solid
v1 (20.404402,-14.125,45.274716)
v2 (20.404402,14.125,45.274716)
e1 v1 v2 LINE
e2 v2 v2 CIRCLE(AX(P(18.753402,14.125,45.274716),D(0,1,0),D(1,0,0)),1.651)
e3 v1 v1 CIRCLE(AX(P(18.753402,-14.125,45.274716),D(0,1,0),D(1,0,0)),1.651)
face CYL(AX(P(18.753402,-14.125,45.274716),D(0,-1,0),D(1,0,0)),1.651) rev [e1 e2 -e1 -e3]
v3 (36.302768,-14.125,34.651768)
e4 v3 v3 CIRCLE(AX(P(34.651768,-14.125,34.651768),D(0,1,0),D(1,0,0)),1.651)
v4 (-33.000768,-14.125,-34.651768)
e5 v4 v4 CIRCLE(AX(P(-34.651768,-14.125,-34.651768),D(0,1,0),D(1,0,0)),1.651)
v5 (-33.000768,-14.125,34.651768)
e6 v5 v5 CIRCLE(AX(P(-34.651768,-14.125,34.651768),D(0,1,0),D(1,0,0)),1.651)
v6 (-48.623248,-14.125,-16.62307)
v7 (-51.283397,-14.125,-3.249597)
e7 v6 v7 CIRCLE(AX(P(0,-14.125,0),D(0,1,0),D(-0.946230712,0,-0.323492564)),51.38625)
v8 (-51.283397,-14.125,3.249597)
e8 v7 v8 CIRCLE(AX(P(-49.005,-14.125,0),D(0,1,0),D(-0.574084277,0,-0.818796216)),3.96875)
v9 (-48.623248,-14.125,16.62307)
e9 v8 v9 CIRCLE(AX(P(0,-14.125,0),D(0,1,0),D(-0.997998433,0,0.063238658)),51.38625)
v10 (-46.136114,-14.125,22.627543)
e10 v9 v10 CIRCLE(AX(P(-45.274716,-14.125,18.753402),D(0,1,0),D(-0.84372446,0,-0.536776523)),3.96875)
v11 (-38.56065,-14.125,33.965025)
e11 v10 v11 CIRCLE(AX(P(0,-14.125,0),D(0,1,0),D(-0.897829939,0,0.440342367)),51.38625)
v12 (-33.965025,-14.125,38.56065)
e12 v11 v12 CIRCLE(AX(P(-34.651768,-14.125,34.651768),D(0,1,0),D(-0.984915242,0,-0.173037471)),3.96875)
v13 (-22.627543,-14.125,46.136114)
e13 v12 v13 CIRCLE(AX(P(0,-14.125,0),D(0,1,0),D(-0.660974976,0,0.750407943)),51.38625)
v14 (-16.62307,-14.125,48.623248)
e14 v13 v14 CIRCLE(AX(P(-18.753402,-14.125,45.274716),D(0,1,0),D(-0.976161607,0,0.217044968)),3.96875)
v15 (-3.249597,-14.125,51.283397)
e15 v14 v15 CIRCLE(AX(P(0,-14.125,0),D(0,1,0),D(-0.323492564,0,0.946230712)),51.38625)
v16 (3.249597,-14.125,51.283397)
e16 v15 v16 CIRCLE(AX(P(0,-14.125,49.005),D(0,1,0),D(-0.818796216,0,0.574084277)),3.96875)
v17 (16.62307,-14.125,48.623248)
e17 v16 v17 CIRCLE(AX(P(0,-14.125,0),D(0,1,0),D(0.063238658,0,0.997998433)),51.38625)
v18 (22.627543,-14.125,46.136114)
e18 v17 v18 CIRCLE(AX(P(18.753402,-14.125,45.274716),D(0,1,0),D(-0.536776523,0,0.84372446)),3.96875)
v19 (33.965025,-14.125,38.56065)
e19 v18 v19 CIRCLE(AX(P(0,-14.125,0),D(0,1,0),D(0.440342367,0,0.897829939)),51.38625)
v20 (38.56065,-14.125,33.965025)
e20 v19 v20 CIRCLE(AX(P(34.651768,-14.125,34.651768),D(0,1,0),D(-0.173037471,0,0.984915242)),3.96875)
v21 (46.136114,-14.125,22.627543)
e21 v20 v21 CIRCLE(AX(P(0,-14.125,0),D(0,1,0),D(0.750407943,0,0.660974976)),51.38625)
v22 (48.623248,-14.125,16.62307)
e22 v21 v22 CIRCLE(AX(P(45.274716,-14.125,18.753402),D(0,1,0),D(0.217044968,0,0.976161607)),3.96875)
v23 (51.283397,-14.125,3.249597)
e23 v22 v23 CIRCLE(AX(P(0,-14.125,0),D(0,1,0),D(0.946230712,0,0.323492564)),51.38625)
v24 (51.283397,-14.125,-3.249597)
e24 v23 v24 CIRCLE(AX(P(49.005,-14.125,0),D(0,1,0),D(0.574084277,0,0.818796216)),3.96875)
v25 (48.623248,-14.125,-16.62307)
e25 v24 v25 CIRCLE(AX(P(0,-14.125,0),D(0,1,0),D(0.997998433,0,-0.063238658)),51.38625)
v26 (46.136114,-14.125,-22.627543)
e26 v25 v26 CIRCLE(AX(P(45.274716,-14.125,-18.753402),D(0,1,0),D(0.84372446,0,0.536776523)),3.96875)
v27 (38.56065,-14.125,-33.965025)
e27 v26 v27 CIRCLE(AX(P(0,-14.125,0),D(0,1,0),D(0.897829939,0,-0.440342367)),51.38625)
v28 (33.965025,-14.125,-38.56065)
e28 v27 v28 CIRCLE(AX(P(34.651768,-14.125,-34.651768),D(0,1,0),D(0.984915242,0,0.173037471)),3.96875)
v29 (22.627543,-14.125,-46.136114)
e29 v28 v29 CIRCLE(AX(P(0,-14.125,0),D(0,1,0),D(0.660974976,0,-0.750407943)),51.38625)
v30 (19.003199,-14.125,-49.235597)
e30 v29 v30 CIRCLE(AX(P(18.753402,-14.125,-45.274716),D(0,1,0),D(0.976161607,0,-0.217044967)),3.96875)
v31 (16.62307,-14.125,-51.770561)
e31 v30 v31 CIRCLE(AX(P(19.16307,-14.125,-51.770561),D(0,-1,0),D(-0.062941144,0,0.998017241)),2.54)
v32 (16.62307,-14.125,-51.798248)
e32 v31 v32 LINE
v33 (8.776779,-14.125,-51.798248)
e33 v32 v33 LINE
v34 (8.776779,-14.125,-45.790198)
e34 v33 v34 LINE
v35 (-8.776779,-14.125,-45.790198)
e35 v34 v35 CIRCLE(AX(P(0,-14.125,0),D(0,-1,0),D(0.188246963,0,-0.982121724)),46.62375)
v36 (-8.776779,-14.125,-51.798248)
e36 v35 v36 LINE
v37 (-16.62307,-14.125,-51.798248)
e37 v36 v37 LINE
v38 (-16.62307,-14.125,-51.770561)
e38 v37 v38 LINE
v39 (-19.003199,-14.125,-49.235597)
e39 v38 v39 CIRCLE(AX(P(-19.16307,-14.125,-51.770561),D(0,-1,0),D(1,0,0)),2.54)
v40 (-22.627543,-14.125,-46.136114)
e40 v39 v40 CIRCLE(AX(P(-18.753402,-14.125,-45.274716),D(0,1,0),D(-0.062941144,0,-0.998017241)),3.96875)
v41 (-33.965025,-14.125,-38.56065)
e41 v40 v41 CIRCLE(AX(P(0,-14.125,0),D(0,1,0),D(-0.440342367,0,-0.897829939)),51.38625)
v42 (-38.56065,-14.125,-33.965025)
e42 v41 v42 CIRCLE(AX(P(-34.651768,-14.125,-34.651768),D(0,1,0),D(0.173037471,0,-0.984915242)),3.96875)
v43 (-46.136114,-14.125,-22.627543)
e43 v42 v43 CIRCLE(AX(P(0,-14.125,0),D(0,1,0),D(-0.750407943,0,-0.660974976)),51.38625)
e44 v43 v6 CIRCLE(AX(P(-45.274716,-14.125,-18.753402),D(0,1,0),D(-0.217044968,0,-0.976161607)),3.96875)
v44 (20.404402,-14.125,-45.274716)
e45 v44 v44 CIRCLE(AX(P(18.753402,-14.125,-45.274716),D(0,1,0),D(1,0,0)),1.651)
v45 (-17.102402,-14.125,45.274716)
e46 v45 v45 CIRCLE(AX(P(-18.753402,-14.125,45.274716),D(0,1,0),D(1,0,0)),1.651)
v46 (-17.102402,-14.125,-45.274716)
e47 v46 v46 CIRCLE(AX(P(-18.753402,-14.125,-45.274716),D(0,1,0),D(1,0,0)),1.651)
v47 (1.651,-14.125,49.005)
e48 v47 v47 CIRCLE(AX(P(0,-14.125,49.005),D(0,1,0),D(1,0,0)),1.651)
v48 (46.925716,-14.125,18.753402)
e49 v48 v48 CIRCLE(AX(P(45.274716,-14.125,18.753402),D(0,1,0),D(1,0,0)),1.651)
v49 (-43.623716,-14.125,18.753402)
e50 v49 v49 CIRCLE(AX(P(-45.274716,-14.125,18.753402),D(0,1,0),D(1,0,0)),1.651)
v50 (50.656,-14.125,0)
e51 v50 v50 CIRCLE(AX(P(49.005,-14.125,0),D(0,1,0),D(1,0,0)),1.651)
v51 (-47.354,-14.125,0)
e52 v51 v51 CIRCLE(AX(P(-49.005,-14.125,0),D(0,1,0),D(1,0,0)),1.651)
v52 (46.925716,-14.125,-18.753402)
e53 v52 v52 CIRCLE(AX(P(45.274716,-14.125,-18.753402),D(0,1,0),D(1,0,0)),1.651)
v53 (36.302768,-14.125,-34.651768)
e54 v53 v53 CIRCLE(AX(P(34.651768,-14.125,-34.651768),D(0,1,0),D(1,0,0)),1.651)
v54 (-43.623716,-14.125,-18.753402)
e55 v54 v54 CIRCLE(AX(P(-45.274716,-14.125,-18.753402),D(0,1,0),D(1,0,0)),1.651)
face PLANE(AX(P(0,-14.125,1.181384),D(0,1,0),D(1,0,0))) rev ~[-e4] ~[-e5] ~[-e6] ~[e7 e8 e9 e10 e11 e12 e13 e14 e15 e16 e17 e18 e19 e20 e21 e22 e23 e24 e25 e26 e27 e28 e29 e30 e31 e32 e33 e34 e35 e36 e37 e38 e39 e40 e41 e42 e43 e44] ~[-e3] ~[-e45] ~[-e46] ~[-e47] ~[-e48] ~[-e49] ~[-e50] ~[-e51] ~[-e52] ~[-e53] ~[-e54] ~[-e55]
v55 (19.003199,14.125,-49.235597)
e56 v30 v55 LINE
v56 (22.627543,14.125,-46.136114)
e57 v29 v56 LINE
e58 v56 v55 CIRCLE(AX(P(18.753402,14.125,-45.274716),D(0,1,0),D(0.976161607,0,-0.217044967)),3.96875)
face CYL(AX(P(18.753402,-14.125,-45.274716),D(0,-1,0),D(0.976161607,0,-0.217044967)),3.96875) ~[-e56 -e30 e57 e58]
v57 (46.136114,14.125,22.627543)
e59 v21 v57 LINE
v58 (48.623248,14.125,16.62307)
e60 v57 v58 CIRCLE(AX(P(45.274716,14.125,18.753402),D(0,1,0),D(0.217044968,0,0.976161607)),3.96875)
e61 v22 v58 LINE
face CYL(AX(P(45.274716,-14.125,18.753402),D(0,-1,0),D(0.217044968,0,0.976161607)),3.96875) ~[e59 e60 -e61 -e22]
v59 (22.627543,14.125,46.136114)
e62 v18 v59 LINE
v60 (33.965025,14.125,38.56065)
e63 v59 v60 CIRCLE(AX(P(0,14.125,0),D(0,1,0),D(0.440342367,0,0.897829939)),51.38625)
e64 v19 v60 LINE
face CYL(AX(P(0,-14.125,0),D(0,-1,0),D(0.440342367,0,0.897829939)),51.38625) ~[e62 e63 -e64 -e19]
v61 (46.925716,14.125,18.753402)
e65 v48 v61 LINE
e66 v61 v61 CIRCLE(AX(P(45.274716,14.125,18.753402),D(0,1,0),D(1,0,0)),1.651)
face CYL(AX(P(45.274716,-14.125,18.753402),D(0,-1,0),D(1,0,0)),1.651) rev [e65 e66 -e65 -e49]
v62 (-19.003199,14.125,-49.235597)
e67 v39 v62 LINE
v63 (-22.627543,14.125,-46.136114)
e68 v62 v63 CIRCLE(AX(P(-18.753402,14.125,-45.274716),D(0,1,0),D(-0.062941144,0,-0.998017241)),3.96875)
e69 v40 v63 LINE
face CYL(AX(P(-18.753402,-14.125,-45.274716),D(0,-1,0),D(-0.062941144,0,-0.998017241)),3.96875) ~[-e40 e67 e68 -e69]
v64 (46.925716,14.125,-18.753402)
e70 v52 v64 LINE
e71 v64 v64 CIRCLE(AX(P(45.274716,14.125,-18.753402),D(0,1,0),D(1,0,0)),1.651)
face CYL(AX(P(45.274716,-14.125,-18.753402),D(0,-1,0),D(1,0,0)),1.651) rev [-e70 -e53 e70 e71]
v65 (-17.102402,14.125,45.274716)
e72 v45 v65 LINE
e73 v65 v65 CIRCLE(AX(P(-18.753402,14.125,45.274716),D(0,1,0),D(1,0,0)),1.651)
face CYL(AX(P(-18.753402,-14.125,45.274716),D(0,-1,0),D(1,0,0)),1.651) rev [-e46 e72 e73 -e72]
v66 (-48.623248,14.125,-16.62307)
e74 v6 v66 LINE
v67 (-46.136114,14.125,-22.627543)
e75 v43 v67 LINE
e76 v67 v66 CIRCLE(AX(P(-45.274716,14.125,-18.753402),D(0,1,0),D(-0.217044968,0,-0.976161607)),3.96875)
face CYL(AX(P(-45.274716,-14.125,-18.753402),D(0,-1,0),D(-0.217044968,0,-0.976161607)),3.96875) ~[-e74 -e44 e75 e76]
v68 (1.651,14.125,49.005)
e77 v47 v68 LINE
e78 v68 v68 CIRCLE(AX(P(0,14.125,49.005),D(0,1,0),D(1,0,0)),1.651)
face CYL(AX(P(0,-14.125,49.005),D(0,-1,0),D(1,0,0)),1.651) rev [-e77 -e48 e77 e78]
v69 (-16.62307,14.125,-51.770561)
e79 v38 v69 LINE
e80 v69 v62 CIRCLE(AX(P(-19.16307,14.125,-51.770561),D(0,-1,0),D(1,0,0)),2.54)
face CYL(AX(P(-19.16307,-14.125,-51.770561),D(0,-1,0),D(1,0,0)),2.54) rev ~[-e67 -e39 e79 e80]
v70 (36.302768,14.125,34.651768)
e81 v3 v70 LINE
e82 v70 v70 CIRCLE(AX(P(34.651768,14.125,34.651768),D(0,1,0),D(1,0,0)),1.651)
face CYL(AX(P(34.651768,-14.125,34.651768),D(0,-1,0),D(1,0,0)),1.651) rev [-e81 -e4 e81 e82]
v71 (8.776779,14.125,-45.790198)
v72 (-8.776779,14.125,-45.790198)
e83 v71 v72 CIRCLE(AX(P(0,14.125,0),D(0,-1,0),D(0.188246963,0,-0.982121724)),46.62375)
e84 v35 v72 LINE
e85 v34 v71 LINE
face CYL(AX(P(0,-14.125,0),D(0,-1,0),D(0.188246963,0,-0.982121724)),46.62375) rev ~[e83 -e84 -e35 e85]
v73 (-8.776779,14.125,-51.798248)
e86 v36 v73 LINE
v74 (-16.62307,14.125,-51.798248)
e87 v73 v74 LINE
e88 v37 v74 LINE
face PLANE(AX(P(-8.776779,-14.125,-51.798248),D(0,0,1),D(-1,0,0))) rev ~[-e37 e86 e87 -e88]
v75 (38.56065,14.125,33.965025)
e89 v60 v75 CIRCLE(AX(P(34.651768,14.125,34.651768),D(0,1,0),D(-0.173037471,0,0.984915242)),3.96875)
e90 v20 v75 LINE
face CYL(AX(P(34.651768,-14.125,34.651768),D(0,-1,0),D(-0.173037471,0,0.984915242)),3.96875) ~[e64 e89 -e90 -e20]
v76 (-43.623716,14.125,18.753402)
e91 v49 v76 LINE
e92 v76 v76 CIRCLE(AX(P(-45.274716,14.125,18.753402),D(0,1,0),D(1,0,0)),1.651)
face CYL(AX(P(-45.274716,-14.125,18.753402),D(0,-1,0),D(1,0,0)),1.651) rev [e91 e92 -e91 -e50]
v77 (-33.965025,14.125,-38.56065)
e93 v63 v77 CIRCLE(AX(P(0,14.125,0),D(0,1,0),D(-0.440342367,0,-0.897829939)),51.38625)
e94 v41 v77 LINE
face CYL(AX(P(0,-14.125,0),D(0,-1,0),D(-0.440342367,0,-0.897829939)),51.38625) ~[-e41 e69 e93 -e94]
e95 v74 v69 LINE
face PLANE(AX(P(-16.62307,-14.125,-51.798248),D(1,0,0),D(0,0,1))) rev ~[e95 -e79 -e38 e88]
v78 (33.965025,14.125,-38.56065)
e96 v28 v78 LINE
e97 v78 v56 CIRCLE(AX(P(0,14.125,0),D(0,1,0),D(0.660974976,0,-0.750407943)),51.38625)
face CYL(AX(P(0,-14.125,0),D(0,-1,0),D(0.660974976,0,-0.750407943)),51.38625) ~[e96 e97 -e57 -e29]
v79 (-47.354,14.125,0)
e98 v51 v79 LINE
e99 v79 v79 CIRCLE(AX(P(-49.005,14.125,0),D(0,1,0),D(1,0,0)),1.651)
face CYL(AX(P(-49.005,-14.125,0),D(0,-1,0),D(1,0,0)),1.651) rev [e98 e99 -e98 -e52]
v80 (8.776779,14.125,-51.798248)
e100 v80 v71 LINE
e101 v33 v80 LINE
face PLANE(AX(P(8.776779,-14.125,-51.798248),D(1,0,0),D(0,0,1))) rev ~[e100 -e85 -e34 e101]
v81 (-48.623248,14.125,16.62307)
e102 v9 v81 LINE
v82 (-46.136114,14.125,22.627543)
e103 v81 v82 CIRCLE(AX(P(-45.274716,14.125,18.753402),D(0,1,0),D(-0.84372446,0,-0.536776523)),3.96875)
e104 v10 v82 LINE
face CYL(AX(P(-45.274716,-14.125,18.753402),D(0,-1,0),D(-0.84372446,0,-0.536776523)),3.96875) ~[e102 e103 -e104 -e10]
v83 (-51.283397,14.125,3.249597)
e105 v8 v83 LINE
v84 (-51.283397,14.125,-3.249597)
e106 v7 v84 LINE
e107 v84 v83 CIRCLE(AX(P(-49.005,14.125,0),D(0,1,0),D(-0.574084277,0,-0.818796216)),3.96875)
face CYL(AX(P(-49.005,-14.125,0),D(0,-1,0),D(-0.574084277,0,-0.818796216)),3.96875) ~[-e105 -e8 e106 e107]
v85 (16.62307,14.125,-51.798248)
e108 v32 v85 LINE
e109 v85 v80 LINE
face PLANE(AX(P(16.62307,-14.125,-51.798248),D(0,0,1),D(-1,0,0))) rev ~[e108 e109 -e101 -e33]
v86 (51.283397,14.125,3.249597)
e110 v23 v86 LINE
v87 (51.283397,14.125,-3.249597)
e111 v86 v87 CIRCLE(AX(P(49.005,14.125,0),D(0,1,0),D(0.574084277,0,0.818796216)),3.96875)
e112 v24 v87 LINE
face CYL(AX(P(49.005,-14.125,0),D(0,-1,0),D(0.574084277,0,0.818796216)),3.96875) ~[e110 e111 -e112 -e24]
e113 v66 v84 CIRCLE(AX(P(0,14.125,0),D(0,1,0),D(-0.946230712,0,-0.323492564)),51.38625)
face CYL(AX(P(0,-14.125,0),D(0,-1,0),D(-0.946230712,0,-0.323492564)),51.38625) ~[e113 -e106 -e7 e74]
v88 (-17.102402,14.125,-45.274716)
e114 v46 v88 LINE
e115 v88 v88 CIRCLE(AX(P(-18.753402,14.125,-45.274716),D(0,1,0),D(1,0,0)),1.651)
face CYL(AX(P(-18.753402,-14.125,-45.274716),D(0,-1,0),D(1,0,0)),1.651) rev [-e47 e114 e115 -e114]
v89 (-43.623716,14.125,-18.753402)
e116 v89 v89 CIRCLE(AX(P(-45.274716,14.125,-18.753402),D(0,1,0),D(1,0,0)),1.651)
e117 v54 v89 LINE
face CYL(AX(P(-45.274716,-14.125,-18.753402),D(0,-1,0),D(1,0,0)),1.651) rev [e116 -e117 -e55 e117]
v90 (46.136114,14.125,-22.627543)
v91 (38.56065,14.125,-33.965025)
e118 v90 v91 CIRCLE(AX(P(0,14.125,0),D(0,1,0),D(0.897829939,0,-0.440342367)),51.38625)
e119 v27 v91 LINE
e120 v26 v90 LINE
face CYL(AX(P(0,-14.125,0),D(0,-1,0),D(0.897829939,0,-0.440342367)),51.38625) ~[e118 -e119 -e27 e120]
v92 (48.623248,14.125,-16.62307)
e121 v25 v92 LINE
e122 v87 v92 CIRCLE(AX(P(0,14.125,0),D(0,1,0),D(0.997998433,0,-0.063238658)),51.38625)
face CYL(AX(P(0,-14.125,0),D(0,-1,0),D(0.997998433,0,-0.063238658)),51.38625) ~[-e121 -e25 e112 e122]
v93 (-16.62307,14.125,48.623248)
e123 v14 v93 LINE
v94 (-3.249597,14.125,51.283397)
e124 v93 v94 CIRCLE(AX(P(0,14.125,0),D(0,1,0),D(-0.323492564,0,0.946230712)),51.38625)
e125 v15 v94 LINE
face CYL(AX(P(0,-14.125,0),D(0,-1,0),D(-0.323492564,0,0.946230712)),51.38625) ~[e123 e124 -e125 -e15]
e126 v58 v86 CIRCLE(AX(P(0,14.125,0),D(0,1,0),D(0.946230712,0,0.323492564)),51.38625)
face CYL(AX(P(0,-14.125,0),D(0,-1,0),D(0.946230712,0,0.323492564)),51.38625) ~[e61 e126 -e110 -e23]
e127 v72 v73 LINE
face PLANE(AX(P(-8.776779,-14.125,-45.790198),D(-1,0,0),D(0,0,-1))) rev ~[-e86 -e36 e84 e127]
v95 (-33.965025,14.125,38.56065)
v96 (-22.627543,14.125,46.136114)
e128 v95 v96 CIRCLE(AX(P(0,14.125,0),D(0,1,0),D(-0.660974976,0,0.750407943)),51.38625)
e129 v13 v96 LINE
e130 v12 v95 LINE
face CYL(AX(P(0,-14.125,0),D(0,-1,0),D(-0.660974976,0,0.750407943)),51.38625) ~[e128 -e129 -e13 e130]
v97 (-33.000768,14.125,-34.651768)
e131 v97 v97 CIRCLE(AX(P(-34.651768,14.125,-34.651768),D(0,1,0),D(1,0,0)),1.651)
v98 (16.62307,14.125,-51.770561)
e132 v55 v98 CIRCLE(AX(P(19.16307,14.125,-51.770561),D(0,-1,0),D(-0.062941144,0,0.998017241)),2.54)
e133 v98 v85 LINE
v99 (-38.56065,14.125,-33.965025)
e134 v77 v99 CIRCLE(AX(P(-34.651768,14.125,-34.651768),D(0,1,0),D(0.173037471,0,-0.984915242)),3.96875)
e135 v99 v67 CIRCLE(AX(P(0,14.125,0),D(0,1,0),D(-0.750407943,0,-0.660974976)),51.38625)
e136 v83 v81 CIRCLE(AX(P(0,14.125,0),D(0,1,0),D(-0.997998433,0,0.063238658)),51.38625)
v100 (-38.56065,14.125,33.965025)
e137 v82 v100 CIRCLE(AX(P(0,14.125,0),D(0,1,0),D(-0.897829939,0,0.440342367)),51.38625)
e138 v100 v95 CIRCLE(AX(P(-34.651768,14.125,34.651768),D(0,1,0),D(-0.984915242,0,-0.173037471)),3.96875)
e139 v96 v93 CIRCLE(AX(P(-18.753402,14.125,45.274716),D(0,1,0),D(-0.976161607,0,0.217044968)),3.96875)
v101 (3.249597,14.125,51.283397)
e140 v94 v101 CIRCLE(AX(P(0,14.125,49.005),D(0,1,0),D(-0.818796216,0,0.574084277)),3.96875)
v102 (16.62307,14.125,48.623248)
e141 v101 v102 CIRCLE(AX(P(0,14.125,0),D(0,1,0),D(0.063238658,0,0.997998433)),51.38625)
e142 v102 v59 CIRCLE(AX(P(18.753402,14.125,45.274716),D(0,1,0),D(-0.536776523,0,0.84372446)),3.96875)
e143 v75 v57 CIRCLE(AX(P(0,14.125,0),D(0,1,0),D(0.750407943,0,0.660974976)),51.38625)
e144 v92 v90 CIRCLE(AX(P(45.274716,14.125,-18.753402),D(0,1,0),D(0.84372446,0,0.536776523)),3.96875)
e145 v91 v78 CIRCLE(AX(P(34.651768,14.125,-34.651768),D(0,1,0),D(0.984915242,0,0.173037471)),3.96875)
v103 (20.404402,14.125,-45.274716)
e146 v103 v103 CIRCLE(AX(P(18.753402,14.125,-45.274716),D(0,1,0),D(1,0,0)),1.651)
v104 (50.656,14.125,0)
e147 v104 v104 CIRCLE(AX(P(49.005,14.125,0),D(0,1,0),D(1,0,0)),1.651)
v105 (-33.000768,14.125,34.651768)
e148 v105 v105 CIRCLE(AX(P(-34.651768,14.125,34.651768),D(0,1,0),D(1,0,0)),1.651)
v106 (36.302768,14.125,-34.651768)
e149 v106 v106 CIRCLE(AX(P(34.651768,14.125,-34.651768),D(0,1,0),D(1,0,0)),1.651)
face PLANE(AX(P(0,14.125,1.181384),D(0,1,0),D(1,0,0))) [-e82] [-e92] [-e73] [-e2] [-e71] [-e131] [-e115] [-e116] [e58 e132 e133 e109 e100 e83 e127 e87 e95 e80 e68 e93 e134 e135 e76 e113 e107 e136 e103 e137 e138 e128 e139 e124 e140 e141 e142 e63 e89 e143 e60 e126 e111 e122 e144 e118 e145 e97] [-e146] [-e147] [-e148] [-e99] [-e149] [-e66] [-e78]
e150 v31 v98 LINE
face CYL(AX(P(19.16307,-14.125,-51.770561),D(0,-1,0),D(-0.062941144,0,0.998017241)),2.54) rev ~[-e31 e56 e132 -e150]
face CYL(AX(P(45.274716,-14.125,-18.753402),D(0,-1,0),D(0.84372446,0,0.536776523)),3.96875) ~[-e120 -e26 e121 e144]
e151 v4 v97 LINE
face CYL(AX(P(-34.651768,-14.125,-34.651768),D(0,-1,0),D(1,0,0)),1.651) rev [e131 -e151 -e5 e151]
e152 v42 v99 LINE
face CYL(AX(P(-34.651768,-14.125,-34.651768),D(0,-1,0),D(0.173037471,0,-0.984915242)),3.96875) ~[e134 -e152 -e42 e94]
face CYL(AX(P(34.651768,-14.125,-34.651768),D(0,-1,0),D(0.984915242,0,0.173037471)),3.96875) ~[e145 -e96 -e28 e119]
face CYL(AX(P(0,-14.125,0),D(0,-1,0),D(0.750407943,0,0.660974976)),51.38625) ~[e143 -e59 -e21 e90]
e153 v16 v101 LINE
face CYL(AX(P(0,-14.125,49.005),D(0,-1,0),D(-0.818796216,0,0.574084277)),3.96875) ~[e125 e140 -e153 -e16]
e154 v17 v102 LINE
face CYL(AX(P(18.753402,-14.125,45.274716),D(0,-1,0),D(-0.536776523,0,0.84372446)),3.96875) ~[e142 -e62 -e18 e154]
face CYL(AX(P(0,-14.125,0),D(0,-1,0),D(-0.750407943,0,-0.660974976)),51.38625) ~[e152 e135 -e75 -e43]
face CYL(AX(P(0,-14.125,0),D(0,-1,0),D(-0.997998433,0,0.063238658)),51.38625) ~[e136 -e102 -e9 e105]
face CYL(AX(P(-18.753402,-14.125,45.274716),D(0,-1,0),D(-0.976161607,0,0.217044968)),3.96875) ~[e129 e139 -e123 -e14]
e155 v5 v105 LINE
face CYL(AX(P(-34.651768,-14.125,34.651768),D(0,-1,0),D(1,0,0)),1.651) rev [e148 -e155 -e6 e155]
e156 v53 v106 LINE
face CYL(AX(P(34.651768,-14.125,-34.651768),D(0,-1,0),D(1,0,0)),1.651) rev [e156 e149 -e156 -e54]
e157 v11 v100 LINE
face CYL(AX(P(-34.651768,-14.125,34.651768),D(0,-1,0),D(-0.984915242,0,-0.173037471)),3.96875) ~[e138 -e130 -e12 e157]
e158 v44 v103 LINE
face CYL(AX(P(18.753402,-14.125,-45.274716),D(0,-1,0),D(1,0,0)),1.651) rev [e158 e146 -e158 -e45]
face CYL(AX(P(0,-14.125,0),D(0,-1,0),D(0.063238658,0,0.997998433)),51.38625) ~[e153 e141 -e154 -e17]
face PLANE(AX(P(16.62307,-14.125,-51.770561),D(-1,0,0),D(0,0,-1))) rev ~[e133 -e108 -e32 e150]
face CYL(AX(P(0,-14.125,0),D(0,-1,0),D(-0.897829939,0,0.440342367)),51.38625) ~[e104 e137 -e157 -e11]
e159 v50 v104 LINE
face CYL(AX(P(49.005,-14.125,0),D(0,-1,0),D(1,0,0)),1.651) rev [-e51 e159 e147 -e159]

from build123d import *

# Parameters (mm, degrees)
BOSS_EXTRUDE1_START = -14.125
SKETCH1_R           = 1.651
BOSS_EXTRUDE1_DEPTH = 28.25


with BuildPart() as part:
    # Sketch1 → Boss-Extrude1 (new body)
    with BuildSketch(Plane(origin=(0, 0, 0), x_dir=(1, 0, 0), z_dir=(0, 1, 0)).offset(BOSS_EXTRUDE1_START)):
        with BuildLine():
            Line((-8.776779323, 45.790197737), (-8.776779323, 51.79824794))
            Line((-8.776779323, 51.79824794), (-16.623069776, 51.79824794))
            Line((-16.623069776, 51.79824794), (-16.623069776, 51.770561205))
            ThreePointArc((-16.623069776, 51.770561205), (-17.311358259, 50.031951284), (-19.00319927, 49.235597414))
            ThreePointArc((-19.00319927, 49.235597414), (-21.332823655, 48.290932405), (-22.627542979, 46.136113705))
            ThreePointArc((-22.627542979, 46.136113705), (-28.548670887, 42.726105365), (-33.965025348, 38.560650178))
            ThreePointArc((-33.965025348, 38.560650178), (-37.45809785, 37.45809785), (-38.560650178, 33.965025348))
            ThreePointArc((-38.560650178, 33.965025348), (-42.726105365, 28.548670887), (-46.136113705, 22.627542979))
            ThreePointArc((-46.136113705, 22.627542979), (-48.941363385, 20.272176475), (-48.62324794, 16.623069776))
            ThreePointArc((-48.62324794, 16.623069776), (-50.398877615, 10.02496006), (-51.283396975, 3.249597481))
            ThreePointArc((-51.283396975, 3.249597481), (-52.97375, 0), (-51.283396975, -3.249597481))
            ThreePointArc((-51.283396975, -3.249597481), (-50.398877615, -10.02496006), (-48.62324794, -16.623069776))
            ThreePointArc((-48.62324794, -16.623069776), (-48.941363385, -20.272176475), (-46.136113705, -22.627542979))
            ThreePointArc((-46.136113705, -22.627542979), (-42.726105365, -28.548670887), (-38.560650178, -33.965025348))
            ThreePointArc((-38.560650178, -33.965025348), (-37.45809785, -37.45809785), (-33.965025348, -38.560650178))
            ThreePointArc((-33.965025348, -38.560650178), (-28.548670887, -42.726105365), (-22.627542979, -46.136113705))
            ThreePointArc((-22.627542979, -46.136113705), (-20.272176475, -48.941363385), (-16.623069776, -48.62324794))
            ThreePointArc((-16.623069776, -48.62324794), (-10.02496006, -50.398877615), (-3.249597481, -51.283396975))
            ThreePointArc((-3.249597481, -51.283396975), (0, -52.97375), (3.249597481, -51.283396975))
            ThreePointArc((3.249597481, -51.283396975), (10.02496006, -50.398877615), (16.623069776, -48.62324794))
            ThreePointArc((16.623069776, -48.62324794), (20.272176475, -48.941363385), (22.627542979, -46.136113705))
            ThreePointArc((22.627542979, -46.136113705), (28.548670887, -42.726105365), (33.965025348, -38.560650178))
            ThreePointArc((33.965025348, -38.560650178), (37.45809785, -37.45809785), (38.560650178, -33.965025348))
            ThreePointArc((38.560650178, -33.965025348), (42.726105365, -28.548670887), (46.136113705, -22.627542979))
            ThreePointArc((46.136113705, -22.627542979), (48.941363385, -20.272176475), (48.62324794, -16.623069776))
            ThreePointArc((48.62324794, -16.623069776), (50.398877615, -10.02496006), (51.283396975, -3.249597481))
            ThreePointArc((51.283396975, -3.249597481), (52.97375, 0), (51.283396975, 3.249597481))
            ThreePointArc((51.283396975, 3.249597481), (50.398877615, 10.02496006), (48.62324794, 16.623069776))
            ThreePointArc((48.62324794, 16.623069776), (48.941363385, 20.272176475), (46.136113705, 22.627542979))
            ThreePointArc((46.136113705, 22.627542979), (42.726105365, 28.548670887), (38.560650178, 33.965025348))
            ThreePointArc((38.560650178, 33.965025348), (37.45809785, 37.45809785), (33.965025348, 38.560650178))
            ThreePointArc((33.965025348, 38.560650178), (28.548670887, 42.726105365), (22.627542979, 46.136113705))
            ThreePointArc((22.627542979, 46.136113705), (21.332823655, 48.290932405), (19.00319927, 49.235597414))
            ThreePointArc((19.00319927, 49.235597414), (17.311358259, 50.031951284), (16.623069776, 51.770561205))
            Line((16.623069776, 51.770561205), (16.623069776, 51.79824794))
            Line((16.623069776, 51.79824794), (8.776779323, 51.79824794))
            Line((8.776779323, 51.79824794), (8.776779323, 45.790197737))
            ThreePointArc((8.776779323, 45.790197737), (0, -46.62375), (-8.776779323, 45.790197737))
        make_face()
        with Locations((18.753401603, 45.274716491)):
            Circle(SKETCH1_R, mode=Mode.SUBTRACT)
        with Locations((34.651767812, 34.651767812)):
            Circle(SKETCH1_R, mode=Mode.SUBTRACT)
        with Locations((45.274716491, 18.753401603)):
            Circle(SKETCH1_R, mode=Mode.SUBTRACT)
        with Locations((49.005, 0)):
            Circle(SKETCH1_R, mode=Mode.SUBTRACT)
        with Locations((45.274716491, -18.753401603)):
            Circle(SKETCH1_R, mode=Mode.SUBTRACT)
        with Locations((34.651767812, -34.651767812)):
            Circle(SKETCH1_R, mode=Mode.SUBTRACT)
        with Locations((18.753401603, -45.274716491)):
            Circle(SKETCH1_R, mode=Mode.SUBTRACT)
        with Locations((0, -49.005)):
            Circle(SKETCH1_R, mode=Mode.SUBTRACT)
        with Locations((-18.753401603, -45.274716491)):
            Circle(SKETCH1_R, mode=Mode.SUBTRACT)
        with Locations((-34.651767812, -34.651767812)):
            Circle(SKETCH1_R, mode=Mode.SUBTRACT)
        with Locations((-45.274716491, -18.753401603)):
            Circle(SKETCH1_R, mode=Mode.SUBTRACT)
        with Locations((-49.005, 0)):
            Circle(SKETCH1_R, mode=Mode.SUBTRACT)
        with Locations((-45.274716491, 18.753401603)):
            Circle(SKETCH1_R, mode=Mode.SUBTRACT)
        with Locations((-34.651767812, 34.651767812)):
            Circle(SKETCH1_R, mode=Mode.SUBTRACT)
        with Locations((-18.753401603, 45.274716491)):
            Circle(SKETCH1_R, mode=Mode.SUBTRACT)
    extrude(amount=BOSS_EXTRUDE1_DEPTH)


solid = part.part
